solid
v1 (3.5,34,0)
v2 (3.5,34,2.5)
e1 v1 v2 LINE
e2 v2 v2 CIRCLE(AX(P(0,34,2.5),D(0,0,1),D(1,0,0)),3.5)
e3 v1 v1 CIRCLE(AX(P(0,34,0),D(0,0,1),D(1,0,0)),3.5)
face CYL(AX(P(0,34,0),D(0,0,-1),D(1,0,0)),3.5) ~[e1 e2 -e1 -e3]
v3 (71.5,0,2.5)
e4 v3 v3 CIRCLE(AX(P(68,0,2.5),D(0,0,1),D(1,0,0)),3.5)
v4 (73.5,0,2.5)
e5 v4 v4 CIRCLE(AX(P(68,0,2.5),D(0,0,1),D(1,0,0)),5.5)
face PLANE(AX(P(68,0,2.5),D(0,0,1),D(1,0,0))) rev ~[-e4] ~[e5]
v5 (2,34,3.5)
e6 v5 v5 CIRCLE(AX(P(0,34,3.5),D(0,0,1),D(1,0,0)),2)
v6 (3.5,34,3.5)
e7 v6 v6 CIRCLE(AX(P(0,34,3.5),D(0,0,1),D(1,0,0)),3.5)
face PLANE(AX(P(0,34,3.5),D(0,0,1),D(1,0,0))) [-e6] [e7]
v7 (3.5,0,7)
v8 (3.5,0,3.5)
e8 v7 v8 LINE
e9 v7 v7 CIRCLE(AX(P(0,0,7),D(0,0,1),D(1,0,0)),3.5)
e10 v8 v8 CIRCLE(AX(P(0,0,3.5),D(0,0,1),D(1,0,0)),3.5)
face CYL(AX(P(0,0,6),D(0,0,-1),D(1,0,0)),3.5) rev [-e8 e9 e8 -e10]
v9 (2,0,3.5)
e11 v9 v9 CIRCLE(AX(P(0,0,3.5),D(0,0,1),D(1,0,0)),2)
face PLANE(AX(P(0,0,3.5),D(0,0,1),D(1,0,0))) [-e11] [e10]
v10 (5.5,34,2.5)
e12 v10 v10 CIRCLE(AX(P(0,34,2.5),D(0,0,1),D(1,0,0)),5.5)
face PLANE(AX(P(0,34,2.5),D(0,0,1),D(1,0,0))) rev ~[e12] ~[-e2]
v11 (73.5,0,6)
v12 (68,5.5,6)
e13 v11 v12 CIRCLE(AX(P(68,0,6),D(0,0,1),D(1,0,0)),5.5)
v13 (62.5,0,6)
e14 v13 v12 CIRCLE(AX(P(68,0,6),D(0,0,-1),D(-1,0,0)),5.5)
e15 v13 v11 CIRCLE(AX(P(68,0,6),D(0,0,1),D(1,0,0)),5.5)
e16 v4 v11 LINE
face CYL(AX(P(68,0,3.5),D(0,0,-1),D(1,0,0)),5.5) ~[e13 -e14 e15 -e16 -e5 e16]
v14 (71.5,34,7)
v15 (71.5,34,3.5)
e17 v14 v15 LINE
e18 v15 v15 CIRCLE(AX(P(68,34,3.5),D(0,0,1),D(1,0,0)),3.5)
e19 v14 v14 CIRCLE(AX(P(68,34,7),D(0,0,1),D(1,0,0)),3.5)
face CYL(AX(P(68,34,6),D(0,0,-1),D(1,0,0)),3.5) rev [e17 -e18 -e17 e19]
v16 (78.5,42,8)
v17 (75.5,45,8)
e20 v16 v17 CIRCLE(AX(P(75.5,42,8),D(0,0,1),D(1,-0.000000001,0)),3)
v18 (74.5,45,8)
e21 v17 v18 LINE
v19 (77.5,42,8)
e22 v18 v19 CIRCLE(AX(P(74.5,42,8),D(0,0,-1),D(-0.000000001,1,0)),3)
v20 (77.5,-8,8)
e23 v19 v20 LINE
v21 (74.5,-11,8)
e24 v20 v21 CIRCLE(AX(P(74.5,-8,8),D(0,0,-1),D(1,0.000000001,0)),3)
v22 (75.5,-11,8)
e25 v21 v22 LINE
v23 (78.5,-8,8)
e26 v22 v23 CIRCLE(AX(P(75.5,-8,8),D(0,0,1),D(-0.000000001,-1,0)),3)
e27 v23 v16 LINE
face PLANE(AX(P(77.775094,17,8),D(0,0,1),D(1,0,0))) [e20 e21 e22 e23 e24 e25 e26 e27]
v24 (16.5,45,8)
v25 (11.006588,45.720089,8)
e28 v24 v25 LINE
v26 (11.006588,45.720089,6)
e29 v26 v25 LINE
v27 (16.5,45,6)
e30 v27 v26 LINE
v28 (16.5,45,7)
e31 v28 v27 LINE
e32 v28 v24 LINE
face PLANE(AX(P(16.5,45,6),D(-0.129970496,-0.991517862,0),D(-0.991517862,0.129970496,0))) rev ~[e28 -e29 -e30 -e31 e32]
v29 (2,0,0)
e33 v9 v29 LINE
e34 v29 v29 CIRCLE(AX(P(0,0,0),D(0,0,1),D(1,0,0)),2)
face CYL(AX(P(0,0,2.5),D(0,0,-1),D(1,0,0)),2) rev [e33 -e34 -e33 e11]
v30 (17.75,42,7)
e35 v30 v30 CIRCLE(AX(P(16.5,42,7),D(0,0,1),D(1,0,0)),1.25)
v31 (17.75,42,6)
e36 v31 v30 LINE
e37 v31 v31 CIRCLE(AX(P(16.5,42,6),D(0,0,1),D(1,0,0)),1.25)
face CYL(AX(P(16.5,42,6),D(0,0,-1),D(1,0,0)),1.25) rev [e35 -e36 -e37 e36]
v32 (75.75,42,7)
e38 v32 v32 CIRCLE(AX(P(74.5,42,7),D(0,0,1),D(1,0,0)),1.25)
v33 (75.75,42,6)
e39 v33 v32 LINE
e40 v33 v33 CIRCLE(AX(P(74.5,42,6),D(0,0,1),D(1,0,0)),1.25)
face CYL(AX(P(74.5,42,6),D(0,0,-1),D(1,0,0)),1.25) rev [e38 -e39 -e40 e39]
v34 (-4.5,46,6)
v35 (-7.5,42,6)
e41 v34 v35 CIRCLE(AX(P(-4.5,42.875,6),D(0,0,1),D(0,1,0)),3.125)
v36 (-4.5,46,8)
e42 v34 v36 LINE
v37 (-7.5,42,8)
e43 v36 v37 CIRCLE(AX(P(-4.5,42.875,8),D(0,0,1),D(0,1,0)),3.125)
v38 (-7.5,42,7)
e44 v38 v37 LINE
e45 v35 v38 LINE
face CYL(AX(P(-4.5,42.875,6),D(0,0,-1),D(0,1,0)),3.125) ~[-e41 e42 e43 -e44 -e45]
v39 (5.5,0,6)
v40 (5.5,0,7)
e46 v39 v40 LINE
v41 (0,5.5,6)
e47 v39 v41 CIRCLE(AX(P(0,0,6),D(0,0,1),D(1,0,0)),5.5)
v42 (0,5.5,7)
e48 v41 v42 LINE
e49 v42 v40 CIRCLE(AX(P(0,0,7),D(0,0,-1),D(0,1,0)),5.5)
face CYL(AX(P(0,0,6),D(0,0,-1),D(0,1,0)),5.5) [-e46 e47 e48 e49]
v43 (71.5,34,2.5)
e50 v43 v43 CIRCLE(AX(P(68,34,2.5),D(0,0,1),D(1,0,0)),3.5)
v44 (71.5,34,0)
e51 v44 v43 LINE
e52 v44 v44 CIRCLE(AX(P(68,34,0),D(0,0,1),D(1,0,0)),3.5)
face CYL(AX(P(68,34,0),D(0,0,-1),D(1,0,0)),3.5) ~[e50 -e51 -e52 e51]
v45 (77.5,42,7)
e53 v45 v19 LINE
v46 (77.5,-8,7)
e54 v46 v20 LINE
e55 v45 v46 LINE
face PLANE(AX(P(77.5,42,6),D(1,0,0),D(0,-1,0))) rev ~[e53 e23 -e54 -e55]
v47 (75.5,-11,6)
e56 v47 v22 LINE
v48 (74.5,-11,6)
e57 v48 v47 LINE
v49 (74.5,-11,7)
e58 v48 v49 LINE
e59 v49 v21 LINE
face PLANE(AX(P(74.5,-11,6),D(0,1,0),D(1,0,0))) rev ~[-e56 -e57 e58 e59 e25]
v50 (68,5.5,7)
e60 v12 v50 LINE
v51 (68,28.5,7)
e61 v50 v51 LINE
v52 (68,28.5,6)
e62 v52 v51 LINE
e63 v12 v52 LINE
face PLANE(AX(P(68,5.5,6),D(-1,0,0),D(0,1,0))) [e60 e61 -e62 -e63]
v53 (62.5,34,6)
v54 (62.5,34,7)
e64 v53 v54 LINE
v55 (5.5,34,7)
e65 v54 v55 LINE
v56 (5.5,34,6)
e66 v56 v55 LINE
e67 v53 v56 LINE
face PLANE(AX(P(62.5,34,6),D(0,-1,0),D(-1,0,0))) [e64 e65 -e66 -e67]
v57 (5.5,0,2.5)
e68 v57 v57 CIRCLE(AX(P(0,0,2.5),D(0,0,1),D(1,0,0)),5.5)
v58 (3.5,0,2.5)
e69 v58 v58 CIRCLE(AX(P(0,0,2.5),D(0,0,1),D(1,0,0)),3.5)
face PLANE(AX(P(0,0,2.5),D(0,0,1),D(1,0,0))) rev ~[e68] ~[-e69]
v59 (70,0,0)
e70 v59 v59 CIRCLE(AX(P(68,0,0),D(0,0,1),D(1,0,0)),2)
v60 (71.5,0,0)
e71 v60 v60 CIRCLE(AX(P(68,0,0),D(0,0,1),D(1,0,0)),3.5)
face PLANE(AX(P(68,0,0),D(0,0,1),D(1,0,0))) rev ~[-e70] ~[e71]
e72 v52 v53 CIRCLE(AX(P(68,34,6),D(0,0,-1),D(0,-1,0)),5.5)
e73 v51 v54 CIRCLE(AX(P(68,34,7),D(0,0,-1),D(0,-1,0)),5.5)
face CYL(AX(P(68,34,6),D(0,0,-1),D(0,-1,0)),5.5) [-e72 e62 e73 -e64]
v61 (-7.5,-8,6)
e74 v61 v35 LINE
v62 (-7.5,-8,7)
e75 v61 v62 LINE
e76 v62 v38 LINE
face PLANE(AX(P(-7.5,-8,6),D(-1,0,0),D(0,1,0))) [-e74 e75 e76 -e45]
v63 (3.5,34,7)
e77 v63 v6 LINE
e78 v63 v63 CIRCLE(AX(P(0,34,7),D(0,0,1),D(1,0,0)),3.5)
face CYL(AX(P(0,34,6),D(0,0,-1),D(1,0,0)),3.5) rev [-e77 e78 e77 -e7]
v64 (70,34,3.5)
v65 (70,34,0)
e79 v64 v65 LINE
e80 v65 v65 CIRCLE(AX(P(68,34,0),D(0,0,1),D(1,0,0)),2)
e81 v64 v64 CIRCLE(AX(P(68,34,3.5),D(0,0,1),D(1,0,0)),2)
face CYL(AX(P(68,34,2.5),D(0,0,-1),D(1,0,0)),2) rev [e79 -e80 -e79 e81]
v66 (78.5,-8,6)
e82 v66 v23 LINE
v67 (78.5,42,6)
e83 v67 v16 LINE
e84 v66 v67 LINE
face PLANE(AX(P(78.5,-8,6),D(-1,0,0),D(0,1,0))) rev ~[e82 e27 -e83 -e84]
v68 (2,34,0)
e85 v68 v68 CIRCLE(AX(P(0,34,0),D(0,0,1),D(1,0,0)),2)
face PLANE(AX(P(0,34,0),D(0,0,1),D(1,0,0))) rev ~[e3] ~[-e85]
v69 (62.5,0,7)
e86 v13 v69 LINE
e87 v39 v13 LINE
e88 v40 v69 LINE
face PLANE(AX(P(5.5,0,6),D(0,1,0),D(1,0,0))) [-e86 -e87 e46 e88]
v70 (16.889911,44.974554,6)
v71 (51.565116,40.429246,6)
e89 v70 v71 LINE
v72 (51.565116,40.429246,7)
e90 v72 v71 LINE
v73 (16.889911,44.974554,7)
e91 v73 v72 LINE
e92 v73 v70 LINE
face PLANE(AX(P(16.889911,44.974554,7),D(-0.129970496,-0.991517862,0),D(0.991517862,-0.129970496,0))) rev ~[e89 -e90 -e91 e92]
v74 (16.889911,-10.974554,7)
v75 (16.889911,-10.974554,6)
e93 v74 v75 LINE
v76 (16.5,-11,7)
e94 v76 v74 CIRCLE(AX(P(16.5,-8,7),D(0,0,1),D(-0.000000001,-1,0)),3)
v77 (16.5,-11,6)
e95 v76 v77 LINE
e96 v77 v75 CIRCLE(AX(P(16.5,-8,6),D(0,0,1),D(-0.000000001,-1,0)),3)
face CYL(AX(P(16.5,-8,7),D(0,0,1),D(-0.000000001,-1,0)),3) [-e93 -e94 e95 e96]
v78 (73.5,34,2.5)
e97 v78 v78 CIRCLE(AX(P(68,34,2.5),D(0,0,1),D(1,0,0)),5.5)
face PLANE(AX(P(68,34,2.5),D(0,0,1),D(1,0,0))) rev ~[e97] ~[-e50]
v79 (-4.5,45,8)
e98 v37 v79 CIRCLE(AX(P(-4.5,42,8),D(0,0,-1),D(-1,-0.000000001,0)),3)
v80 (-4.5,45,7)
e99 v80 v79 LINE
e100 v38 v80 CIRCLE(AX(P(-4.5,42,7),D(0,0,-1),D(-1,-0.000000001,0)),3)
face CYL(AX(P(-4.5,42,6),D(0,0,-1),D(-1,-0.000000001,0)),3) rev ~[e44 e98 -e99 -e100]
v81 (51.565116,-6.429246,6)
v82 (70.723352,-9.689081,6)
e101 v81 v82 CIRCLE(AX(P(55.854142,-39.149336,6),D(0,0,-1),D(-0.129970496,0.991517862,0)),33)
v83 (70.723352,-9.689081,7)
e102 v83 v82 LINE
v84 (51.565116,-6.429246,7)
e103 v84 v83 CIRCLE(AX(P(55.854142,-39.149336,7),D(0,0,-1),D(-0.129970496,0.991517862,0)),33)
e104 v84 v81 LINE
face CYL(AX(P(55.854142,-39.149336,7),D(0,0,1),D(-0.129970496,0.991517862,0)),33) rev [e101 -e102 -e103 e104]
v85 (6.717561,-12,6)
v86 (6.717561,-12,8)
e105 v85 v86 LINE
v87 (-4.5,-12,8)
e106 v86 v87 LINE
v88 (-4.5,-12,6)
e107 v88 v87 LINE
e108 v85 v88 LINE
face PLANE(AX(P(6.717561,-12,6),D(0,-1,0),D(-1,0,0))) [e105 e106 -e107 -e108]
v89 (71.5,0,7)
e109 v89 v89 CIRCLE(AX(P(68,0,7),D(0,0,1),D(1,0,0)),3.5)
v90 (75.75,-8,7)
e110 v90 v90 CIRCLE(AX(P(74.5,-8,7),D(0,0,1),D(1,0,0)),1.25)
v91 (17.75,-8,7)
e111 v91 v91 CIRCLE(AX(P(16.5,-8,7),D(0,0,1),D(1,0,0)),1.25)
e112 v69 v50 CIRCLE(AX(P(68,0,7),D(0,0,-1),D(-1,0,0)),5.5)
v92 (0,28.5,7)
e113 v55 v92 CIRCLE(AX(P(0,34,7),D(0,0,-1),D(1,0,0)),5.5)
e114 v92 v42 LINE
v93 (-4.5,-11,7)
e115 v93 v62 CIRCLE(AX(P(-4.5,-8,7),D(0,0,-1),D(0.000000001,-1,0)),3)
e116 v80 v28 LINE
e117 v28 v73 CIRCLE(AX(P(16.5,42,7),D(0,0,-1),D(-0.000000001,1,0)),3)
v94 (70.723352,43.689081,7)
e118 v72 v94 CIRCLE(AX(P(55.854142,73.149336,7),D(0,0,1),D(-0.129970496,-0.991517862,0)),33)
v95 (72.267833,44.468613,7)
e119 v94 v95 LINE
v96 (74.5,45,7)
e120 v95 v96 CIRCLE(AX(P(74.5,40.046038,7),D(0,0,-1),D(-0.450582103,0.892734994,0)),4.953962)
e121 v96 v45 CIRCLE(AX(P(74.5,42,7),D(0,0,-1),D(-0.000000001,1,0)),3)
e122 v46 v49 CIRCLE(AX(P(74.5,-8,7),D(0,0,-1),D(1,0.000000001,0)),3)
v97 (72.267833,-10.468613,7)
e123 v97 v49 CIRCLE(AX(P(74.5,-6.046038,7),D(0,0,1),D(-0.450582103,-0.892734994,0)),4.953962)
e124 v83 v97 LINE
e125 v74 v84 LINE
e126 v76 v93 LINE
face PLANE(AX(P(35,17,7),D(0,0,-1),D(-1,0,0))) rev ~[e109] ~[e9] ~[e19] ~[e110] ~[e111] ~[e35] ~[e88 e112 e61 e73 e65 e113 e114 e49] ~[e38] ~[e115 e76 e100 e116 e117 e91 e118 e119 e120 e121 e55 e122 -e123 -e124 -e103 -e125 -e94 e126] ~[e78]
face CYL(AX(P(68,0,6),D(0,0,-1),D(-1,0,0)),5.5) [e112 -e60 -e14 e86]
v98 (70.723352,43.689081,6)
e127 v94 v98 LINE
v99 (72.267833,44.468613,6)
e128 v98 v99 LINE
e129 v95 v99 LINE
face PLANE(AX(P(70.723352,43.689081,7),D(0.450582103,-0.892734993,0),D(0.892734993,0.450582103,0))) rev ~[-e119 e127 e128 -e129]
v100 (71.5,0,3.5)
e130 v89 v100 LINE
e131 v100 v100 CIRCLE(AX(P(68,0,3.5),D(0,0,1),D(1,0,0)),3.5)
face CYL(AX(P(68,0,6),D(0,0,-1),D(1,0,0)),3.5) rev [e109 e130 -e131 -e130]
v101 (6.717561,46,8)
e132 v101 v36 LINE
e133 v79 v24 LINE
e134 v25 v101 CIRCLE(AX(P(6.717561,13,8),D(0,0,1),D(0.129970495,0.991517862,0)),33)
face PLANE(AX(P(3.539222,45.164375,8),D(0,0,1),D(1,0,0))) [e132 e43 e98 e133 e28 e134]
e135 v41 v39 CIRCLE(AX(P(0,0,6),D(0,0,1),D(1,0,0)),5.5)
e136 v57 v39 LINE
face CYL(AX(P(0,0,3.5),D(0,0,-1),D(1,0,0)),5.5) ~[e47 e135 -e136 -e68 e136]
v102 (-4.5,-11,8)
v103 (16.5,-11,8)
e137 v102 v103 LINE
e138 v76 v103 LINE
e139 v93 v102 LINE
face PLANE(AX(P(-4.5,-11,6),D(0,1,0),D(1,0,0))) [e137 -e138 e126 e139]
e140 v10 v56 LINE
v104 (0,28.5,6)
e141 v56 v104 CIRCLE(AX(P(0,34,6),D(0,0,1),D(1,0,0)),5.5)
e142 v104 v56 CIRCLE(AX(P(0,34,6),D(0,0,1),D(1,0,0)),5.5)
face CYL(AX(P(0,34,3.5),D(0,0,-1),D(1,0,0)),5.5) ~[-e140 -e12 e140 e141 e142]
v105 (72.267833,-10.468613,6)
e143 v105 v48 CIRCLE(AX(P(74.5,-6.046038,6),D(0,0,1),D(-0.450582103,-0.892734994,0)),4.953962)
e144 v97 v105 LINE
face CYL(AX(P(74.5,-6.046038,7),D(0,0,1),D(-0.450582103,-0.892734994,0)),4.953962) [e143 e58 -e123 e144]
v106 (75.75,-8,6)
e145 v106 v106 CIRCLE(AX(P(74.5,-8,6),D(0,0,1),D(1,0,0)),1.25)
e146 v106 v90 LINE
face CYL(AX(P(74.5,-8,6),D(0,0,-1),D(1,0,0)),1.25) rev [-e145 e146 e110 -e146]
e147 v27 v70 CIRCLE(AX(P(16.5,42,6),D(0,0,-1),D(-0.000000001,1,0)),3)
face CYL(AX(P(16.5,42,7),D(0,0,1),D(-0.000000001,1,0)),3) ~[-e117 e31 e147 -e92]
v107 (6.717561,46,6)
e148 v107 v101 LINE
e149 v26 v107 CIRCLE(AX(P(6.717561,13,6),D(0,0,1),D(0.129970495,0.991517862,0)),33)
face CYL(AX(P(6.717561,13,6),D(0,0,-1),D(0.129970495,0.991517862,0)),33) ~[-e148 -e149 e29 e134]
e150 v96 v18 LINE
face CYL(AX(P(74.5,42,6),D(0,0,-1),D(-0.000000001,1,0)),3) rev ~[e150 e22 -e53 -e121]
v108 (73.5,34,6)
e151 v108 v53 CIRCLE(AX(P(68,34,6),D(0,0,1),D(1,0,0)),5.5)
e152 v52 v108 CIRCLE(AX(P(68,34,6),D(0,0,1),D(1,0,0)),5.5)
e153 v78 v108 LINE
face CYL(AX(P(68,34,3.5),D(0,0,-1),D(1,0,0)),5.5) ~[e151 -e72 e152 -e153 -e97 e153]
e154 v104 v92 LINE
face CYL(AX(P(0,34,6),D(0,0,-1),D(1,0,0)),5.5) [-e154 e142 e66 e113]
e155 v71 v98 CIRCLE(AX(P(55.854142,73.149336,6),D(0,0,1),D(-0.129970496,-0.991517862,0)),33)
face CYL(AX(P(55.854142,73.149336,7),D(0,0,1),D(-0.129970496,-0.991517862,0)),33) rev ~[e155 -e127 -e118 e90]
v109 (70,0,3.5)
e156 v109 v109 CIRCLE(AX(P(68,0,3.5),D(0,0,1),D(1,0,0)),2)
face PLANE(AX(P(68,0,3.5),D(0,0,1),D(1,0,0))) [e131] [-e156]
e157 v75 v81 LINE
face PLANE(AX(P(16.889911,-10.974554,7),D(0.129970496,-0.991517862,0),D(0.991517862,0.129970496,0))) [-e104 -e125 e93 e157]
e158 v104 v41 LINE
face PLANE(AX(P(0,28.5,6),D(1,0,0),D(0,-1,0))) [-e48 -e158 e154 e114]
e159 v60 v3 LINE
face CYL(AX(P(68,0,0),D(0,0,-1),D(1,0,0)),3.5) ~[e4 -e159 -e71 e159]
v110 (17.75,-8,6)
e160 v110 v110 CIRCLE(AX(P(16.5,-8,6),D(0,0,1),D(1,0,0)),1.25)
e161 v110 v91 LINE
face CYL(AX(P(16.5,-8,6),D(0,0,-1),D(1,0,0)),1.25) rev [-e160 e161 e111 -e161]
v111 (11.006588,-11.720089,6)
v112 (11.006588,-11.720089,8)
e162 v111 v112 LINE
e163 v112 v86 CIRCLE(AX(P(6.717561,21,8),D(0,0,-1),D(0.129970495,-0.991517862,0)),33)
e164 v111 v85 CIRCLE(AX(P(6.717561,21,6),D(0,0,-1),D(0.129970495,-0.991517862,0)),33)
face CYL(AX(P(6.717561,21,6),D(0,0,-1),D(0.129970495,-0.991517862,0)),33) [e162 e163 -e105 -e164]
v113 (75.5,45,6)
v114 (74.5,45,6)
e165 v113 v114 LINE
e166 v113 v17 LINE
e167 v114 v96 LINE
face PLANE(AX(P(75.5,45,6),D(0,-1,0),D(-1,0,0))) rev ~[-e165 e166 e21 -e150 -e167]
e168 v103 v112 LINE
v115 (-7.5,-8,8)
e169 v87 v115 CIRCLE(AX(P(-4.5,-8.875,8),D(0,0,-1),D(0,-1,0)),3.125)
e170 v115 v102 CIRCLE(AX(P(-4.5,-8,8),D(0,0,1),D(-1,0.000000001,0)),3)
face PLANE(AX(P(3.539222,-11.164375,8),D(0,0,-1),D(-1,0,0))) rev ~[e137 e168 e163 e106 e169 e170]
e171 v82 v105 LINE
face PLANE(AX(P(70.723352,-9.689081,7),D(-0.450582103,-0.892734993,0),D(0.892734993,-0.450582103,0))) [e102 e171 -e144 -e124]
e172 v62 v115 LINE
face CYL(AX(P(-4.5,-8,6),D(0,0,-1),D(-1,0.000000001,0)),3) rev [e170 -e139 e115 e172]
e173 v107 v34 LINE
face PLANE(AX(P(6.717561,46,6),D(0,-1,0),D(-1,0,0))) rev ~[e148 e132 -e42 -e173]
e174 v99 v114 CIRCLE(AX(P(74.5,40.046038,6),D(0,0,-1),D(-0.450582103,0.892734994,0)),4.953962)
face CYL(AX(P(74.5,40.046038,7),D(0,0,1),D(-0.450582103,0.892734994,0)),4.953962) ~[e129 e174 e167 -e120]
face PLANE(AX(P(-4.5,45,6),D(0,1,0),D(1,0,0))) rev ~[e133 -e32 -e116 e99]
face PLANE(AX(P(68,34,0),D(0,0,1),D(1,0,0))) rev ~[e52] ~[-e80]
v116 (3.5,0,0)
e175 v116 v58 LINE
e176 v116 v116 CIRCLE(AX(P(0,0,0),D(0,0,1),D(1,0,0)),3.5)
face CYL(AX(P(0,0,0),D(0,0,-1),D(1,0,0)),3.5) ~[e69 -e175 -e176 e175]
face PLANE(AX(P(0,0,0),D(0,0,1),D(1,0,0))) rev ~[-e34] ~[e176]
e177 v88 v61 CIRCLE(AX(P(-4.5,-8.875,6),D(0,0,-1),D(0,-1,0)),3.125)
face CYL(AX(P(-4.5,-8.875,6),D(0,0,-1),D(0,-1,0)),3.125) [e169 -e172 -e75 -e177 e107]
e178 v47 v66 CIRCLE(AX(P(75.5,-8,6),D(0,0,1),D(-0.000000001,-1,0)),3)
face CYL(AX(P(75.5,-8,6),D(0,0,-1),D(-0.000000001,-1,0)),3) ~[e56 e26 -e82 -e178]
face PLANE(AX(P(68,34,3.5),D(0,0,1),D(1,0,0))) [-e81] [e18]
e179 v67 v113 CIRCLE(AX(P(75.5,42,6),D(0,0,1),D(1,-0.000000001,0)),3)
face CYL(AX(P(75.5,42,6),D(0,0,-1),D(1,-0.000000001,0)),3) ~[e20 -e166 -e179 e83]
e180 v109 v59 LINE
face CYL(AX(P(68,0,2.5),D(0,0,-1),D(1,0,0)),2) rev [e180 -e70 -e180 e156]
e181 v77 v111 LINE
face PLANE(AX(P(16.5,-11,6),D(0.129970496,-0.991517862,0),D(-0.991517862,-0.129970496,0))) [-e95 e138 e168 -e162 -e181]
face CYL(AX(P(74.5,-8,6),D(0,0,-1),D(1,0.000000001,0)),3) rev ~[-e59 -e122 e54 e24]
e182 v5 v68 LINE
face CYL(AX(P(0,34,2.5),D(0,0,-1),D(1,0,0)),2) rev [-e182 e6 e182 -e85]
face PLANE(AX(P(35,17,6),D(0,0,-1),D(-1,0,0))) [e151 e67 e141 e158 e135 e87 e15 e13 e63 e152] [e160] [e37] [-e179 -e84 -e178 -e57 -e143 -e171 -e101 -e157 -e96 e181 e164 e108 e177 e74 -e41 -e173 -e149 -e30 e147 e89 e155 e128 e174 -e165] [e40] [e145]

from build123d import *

# Parameters (mm, degrees)
SKIZZE1_R                         = 3.5
SKIZZE1_R_2                       = 2
AUFSATZ_LINEAR_AUSTRAGEN1_DEPTH   = 2.5
AUFSATZ_LINEAR_AUSTRAGEN1_2_DEPTH = 2.5
AUFSATZ_LINEAR_AUSTRAGEN1_3_DEPTH = 2.5
AUFSATZ_LINEAR_AUSTRAGEN1_4_DEPTH = 2.5
SKIZZE2_R                         = 5.5
SKIZZE2_R_2                       = 2
AUFSATZ_LINEAR_AUSTRAGEN3_DEPTH   = 1
SKIZZE3_R                         = 5.5
SKIZZE3_R_2                       = 3.5
AUFSATZ_LINEAR_AUSTRAGEN4_DEPTH   = 2.5
SKIZZE4_R                         = 3.5
SKIZZE4_R_2                       = 1.25
AUFSATZ_LINEAR_AUSTRAGEN7_DEPTH   = 1
SCHNITT_LINEAR_AUSTRAGEN1_DEPTH   = 1
AUFSATZ_LINEAR_AUSTRAGEN8_DEPTH   = 2


with BuildPart() as part:
    # Skizze1 → Aufsatz-Linear austragen1 (new body)
    with BuildSketch(Plane.XY):
        with Locations((0, 34)):
            Circle(SKIZZE1_R)
        with Locations((0, 34)):
            Circle(SKIZZE1_R_2, mode=Mode.SUBTRACT)
    extrude(amount=AUFSATZ_LINEAR_AUSTRAGEN1_DEPTH)



with BuildPart() as body_2:
    # Skizze1 → Aufsatz-Linear austragen1 2 (new body)
    with BuildSketch(Plane.XY):
        with Locations((68, 34)):
            Circle(SKIZZE1_R)
        with Locations((68, 34)):
            Circle(SKIZZE1_R_2, mode=Mode.SUBTRACT)
    extrude(amount=AUFSATZ_LINEAR_AUSTRAGEN1_2_DEPTH)


with BuildPart() as body_3:
    # Skizze1 → Aufsatz-Linear austragen1 3 (new body)
    with BuildSketch(Plane.XY):
        with Locations((68, 0)):
            Circle(SKIZZE1_R)
        with Locations((68, 0)):
            Circle(SKIZZE1_R_2, mode=Mode.SUBTRACT)
    extrude(amount=AUFSATZ_LINEAR_AUSTRAGEN1_3_DEPTH)


with BuildPart() as body_4:
    # Skizze1 → Aufsatz-Linear austragen1 4 (new body)
    with BuildSketch(Plane.XY):
        Circle(SKIZZE1_R)
        Circle(SKIZZE1_R_2, mode=Mode.SUBTRACT)
    extrude(amount=AUFSATZ_LINEAR_AUSTRAGEN1_4_DEPTH)


with BuildPart() as part_1:
    add(part.part)

    add(body_2.part)  # Aufsatz-Linear austragen3 merges body 2

    add(body_3.part)  # Aufsatz-Linear austragen3 merges body 3

    add(body_4.part)  # Aufsatz-Linear austragen3 merges body 4
    # Skizze2 → Aufsatz-Linear austragen3 (add)
    # profile 1 of 4: a face of its own
    with BuildSketch(Plane.XY.offset(2.5)):
        with Locations((0, 34)):
            Circle(SKIZZE2_R)
        with Locations((0, 34)):
            Circle(SKIZZE2_R_2, mode=Mode.SUBTRACT)
    # profile 2 of 4: a face of its own
    with BuildSketch(Plane.XY.offset(2.5)):
        with Locations((68, 34)):
            Circle(SKIZZE2_R)
        with Locations((68, 34)):
            Circle(SKIZZE2_R_2, mode=Mode.SUBTRACT)
    # profile 3 of 4: a face of its own
    with BuildSketch(Plane.XY.offset(2.5)):
        with Locations((68, 0)):
            Circle(SKIZZE2_R)
        with Locations((68, 0)):
            Circle(SKIZZE2_R_2, mode=Mode.SUBTRACT)
    # profile 4 of 4: a face of its own
    with BuildSketch(Plane.XY.offset(2.5)):
        Circle(SKIZZE2_R)
        Circle(SKIZZE2_R_2, mode=Mode.SUBTRACT)
    extrude(amount=AUFSATZ_LINEAR_AUSTRAGEN3_DEPTH)

    # Skizze3 → Aufsatz-Linear austragen4 (add)
    # profile 1 of 4: a face of its own
    with BuildSketch(Plane.XY.offset(3.5)):
        with Locations((0, 34)):
            Circle(SKIZZE3_R)
        with Locations((0, 34)):
            Circle(SKIZZE3_R_2, mode=Mode.SUBTRACT)
    # profile 2 of 4: a face of its own
    with BuildSketch(Plane.XY.offset(3.5)):
        with Locations((68, 34)):
            Circle(SKIZZE3_R)
        with Locations((68, 34)):
            Circle(SKIZZE3_R_2, mode=Mode.SUBTRACT)
    # profile 3 of 4: a face of its own
    with BuildSketch(Plane.XY.offset(3.5)):
        with Locations((68, 0)):
            Circle(SKIZZE3_R)
        with Locations((68, 0)):
            Circle(SKIZZE3_R_2, mode=Mode.SUBTRACT)
    # profile 4 of 4: a face of its own
    with BuildSketch(Plane.XY.offset(3.5)):
        Circle(SKIZZE3_R)
        Circle(SKIZZE3_R_2, mode=Mode.SUBTRACT)
    extrude(amount=AUFSATZ_LINEAR_AUSTRAGEN4_DEPTH)

    # Skizze4 → Aufsatz-Linear austragen7 (add)
    with BuildSketch(Plane.XY.offset(6)):
        with BuildLine():
            Line((-4.5, 45), (74.5, 45))
            ThreePointArc((74.5, 45), (76.621320344, 44.121320344), (77.5, 42))
            Line((77.5, 42), (77.5, -8))
            ThreePointArc((77.5, -8), (76.621320344, -10.121320344), (74.5, -11))
            Line((74.5, -11), (-4.5, -11))
            ThreePointArc((-4.5, -11), (-6.621320344, -10.121320344), (-7.5, -8))
            Line((-7.5, -8), (-7.5, 42))
            ThreePointArc((-7.5, 42), (-6.621320344, 44.121320344), (-4.5, 45))
        make_face()
        with Locations((0, 34)):
            Circle(SKIZZE4_R, mode=Mode.SUBTRACT)
        with Locations((68, 34)):
            Circle(SKIZZE4_R, mode=Mode.SUBTRACT)
        with Locations((68, 0)):
            Circle(SKIZZE4_R, mode=Mode.SUBTRACT)
        with Locations((74.5, 42)):
            Circle(SKIZZE4_R_2, mode=Mode.SUBTRACT)
        with Locations((74.5, -8)):
            Circle(SKIZZE4_R_2, mode=Mode.SUBTRACT)
        with Locations((16.5, 42)):
            Circle(SKIZZE4_R_2, mode=Mode.SUBTRACT)
        with Locations((16.5, -8)):
            Circle(SKIZZE4_R_2, mode=Mode.SUBTRACT)
        Circle(SKIZZE4_R, mode=Mode.SUBTRACT)
        with BuildLine():
            Line((5.5, 0), (62.5, 0))
            ThreePointArc((62.5, 0), (64.110912703, 3.889087297), (68, 5.5))
            Line((68, 5.5), (68, 28.5))
            ThreePointArc((68, 28.5), (64.110912703, 30.110912703), (62.5, 34))
            Line((62.5, 34), (5.5, 34))
            ThreePointArc((5.5, 34), (3.889087297, 30.110912703), (0, 28.5))
            Line((0, 28.5), (0, 5.5))
            ThreePointArc((0, 5.5), (3.889087297, 3.889087297), (5.5, 0))
        make_face(mode=Mode.SUBTRACT)
    extrude(amount=AUFSATZ_LINEAR_AUSTRAGEN7_DEPTH)

    # Skizze6 → Schnitt-Linear austragen1 (cut)
    with BuildSketch(Plane.XY.offset(7)):
        with BuildLine():
            Line((16.889911487, 44.974553585), (51.565115858, 40.429246163))
            ThreePointArc((51.565115858, 40.429246163), (61.389636667, 40.61691637), (70.723351618, 43.689080824))
            Line((70.723351618, 43.689080824), (72.267833458, 44.468613251))
            ThreePointArc((72.267833458, 44.468613251), (73.352727218, 44.865322658), (74.5, 45))
            Line((74.5, 45), (74.5, 49.663390108))
            Line((74.5, 49.663390108), (16.5, 49.663390108))
            Line((16.5, 49.663390108), (16.5, 45))
            ThreePointArc((16.5, 45), (16.695370473, 44.993631637), (16.889911487, 44.974553585))
        make_face()
        with BuildLine():
            Line((74.5, -11), (74.5, -15.663390108))
            Line((74.5, -15.663390108), (16.5, -15.663390108))
            Line((16.5, -15.663390108), (16.5, -11))
            ThreePointArc((16.5, -11), (16.695370473, -10.993631637), (16.889911487, -10.974553585))
            Line((16.889911487, -10.974553585), (51.565115858, -6.429246163))
            ThreePointArc((51.565115858, -6.429246163), (61.389636667, -6.61691637), (70.723351618, -9.689080824))
            Line((70.723351618, -9.689080824), (72.267833458, -10.468613251))
            ThreePointArc((72.267833458, -10.468613251), (73.352727218, -10.865322658), (74.5, -11))
        make_face()
    extrude(amount=-SCHNITT_LINEAR_AUSTRAGEN1_DEPTH, mode=Mode.SUBTRACT)

    # Skizze7 → Aufsatz-Linear austragen8 (add)
    with BuildSketch(Plane(origin=(0, 0, 6), x_dir=(-1, 0, 0), z_dir=(0, 0, -1))):
        with BuildLine():
            Line((-77.5, 42), (-77.5, -8))
            ThreePointArc((-77.5, -8), (-76.621320344, -10.121320344), (-74.5, -11))
            Line((-74.5, -11), (-75.5, -11))
            ThreePointArc((-75.5, -11), (-77.621320344, -10.121320344), (-78.5, -8))
            Line((-78.5, -8), (-78.5, 42))
            ThreePointArc((-78.5, 42), (-77.621320344, 44.121320344), (-75.5, 45))
            Line((-75.5, 45), (-74.5, 45))
            ThreePointArc((-74.5, 45), (-76.621320344, 44.121320344), (-77.5, 42))
        make_face()
        with BuildLine():
            Line((4.5, -11), (-16.5, -11))
            Line((-16.5, -11), (-11.006587527, -11.72008944))
            ThreePointArc((-11.006587527, -11.72008944), (-8.866636381, -11.929948007), (-6.717561173, -12))
            Line((-6.717561173, -12), (4.5, -12))
            ThreePointArc((4.5, -12), (7, -10.75), (7.5, -8))
            ThreePointArc((7.5, -8), (6.621320344, -10.121320344), (4.5, -11))
        make_face()
        with BuildLine():
            Line((-6.717561173, 46), (4.5, 46))
            ThreePointArc((4.5, 46), (7, 44.75), (7.5, 42))
            ThreePointArc((7.5, 42), (6.621320344, 44.121320344), (4.5, 45))
            Line((4.5, 45), (-16.5, 45))
            Line((-16.5, 45), (-11.006587527, 45.72008944))
            ThreePointArc((-11.006587527, 45.72008944), (-8.866636381, 45.929948007), (-6.717561173, 46))
        make_face()
    extrude(amount=-AUFSATZ_LINEAR_AUSTRAGEN8_DEPTH)


solid = part_1.part
